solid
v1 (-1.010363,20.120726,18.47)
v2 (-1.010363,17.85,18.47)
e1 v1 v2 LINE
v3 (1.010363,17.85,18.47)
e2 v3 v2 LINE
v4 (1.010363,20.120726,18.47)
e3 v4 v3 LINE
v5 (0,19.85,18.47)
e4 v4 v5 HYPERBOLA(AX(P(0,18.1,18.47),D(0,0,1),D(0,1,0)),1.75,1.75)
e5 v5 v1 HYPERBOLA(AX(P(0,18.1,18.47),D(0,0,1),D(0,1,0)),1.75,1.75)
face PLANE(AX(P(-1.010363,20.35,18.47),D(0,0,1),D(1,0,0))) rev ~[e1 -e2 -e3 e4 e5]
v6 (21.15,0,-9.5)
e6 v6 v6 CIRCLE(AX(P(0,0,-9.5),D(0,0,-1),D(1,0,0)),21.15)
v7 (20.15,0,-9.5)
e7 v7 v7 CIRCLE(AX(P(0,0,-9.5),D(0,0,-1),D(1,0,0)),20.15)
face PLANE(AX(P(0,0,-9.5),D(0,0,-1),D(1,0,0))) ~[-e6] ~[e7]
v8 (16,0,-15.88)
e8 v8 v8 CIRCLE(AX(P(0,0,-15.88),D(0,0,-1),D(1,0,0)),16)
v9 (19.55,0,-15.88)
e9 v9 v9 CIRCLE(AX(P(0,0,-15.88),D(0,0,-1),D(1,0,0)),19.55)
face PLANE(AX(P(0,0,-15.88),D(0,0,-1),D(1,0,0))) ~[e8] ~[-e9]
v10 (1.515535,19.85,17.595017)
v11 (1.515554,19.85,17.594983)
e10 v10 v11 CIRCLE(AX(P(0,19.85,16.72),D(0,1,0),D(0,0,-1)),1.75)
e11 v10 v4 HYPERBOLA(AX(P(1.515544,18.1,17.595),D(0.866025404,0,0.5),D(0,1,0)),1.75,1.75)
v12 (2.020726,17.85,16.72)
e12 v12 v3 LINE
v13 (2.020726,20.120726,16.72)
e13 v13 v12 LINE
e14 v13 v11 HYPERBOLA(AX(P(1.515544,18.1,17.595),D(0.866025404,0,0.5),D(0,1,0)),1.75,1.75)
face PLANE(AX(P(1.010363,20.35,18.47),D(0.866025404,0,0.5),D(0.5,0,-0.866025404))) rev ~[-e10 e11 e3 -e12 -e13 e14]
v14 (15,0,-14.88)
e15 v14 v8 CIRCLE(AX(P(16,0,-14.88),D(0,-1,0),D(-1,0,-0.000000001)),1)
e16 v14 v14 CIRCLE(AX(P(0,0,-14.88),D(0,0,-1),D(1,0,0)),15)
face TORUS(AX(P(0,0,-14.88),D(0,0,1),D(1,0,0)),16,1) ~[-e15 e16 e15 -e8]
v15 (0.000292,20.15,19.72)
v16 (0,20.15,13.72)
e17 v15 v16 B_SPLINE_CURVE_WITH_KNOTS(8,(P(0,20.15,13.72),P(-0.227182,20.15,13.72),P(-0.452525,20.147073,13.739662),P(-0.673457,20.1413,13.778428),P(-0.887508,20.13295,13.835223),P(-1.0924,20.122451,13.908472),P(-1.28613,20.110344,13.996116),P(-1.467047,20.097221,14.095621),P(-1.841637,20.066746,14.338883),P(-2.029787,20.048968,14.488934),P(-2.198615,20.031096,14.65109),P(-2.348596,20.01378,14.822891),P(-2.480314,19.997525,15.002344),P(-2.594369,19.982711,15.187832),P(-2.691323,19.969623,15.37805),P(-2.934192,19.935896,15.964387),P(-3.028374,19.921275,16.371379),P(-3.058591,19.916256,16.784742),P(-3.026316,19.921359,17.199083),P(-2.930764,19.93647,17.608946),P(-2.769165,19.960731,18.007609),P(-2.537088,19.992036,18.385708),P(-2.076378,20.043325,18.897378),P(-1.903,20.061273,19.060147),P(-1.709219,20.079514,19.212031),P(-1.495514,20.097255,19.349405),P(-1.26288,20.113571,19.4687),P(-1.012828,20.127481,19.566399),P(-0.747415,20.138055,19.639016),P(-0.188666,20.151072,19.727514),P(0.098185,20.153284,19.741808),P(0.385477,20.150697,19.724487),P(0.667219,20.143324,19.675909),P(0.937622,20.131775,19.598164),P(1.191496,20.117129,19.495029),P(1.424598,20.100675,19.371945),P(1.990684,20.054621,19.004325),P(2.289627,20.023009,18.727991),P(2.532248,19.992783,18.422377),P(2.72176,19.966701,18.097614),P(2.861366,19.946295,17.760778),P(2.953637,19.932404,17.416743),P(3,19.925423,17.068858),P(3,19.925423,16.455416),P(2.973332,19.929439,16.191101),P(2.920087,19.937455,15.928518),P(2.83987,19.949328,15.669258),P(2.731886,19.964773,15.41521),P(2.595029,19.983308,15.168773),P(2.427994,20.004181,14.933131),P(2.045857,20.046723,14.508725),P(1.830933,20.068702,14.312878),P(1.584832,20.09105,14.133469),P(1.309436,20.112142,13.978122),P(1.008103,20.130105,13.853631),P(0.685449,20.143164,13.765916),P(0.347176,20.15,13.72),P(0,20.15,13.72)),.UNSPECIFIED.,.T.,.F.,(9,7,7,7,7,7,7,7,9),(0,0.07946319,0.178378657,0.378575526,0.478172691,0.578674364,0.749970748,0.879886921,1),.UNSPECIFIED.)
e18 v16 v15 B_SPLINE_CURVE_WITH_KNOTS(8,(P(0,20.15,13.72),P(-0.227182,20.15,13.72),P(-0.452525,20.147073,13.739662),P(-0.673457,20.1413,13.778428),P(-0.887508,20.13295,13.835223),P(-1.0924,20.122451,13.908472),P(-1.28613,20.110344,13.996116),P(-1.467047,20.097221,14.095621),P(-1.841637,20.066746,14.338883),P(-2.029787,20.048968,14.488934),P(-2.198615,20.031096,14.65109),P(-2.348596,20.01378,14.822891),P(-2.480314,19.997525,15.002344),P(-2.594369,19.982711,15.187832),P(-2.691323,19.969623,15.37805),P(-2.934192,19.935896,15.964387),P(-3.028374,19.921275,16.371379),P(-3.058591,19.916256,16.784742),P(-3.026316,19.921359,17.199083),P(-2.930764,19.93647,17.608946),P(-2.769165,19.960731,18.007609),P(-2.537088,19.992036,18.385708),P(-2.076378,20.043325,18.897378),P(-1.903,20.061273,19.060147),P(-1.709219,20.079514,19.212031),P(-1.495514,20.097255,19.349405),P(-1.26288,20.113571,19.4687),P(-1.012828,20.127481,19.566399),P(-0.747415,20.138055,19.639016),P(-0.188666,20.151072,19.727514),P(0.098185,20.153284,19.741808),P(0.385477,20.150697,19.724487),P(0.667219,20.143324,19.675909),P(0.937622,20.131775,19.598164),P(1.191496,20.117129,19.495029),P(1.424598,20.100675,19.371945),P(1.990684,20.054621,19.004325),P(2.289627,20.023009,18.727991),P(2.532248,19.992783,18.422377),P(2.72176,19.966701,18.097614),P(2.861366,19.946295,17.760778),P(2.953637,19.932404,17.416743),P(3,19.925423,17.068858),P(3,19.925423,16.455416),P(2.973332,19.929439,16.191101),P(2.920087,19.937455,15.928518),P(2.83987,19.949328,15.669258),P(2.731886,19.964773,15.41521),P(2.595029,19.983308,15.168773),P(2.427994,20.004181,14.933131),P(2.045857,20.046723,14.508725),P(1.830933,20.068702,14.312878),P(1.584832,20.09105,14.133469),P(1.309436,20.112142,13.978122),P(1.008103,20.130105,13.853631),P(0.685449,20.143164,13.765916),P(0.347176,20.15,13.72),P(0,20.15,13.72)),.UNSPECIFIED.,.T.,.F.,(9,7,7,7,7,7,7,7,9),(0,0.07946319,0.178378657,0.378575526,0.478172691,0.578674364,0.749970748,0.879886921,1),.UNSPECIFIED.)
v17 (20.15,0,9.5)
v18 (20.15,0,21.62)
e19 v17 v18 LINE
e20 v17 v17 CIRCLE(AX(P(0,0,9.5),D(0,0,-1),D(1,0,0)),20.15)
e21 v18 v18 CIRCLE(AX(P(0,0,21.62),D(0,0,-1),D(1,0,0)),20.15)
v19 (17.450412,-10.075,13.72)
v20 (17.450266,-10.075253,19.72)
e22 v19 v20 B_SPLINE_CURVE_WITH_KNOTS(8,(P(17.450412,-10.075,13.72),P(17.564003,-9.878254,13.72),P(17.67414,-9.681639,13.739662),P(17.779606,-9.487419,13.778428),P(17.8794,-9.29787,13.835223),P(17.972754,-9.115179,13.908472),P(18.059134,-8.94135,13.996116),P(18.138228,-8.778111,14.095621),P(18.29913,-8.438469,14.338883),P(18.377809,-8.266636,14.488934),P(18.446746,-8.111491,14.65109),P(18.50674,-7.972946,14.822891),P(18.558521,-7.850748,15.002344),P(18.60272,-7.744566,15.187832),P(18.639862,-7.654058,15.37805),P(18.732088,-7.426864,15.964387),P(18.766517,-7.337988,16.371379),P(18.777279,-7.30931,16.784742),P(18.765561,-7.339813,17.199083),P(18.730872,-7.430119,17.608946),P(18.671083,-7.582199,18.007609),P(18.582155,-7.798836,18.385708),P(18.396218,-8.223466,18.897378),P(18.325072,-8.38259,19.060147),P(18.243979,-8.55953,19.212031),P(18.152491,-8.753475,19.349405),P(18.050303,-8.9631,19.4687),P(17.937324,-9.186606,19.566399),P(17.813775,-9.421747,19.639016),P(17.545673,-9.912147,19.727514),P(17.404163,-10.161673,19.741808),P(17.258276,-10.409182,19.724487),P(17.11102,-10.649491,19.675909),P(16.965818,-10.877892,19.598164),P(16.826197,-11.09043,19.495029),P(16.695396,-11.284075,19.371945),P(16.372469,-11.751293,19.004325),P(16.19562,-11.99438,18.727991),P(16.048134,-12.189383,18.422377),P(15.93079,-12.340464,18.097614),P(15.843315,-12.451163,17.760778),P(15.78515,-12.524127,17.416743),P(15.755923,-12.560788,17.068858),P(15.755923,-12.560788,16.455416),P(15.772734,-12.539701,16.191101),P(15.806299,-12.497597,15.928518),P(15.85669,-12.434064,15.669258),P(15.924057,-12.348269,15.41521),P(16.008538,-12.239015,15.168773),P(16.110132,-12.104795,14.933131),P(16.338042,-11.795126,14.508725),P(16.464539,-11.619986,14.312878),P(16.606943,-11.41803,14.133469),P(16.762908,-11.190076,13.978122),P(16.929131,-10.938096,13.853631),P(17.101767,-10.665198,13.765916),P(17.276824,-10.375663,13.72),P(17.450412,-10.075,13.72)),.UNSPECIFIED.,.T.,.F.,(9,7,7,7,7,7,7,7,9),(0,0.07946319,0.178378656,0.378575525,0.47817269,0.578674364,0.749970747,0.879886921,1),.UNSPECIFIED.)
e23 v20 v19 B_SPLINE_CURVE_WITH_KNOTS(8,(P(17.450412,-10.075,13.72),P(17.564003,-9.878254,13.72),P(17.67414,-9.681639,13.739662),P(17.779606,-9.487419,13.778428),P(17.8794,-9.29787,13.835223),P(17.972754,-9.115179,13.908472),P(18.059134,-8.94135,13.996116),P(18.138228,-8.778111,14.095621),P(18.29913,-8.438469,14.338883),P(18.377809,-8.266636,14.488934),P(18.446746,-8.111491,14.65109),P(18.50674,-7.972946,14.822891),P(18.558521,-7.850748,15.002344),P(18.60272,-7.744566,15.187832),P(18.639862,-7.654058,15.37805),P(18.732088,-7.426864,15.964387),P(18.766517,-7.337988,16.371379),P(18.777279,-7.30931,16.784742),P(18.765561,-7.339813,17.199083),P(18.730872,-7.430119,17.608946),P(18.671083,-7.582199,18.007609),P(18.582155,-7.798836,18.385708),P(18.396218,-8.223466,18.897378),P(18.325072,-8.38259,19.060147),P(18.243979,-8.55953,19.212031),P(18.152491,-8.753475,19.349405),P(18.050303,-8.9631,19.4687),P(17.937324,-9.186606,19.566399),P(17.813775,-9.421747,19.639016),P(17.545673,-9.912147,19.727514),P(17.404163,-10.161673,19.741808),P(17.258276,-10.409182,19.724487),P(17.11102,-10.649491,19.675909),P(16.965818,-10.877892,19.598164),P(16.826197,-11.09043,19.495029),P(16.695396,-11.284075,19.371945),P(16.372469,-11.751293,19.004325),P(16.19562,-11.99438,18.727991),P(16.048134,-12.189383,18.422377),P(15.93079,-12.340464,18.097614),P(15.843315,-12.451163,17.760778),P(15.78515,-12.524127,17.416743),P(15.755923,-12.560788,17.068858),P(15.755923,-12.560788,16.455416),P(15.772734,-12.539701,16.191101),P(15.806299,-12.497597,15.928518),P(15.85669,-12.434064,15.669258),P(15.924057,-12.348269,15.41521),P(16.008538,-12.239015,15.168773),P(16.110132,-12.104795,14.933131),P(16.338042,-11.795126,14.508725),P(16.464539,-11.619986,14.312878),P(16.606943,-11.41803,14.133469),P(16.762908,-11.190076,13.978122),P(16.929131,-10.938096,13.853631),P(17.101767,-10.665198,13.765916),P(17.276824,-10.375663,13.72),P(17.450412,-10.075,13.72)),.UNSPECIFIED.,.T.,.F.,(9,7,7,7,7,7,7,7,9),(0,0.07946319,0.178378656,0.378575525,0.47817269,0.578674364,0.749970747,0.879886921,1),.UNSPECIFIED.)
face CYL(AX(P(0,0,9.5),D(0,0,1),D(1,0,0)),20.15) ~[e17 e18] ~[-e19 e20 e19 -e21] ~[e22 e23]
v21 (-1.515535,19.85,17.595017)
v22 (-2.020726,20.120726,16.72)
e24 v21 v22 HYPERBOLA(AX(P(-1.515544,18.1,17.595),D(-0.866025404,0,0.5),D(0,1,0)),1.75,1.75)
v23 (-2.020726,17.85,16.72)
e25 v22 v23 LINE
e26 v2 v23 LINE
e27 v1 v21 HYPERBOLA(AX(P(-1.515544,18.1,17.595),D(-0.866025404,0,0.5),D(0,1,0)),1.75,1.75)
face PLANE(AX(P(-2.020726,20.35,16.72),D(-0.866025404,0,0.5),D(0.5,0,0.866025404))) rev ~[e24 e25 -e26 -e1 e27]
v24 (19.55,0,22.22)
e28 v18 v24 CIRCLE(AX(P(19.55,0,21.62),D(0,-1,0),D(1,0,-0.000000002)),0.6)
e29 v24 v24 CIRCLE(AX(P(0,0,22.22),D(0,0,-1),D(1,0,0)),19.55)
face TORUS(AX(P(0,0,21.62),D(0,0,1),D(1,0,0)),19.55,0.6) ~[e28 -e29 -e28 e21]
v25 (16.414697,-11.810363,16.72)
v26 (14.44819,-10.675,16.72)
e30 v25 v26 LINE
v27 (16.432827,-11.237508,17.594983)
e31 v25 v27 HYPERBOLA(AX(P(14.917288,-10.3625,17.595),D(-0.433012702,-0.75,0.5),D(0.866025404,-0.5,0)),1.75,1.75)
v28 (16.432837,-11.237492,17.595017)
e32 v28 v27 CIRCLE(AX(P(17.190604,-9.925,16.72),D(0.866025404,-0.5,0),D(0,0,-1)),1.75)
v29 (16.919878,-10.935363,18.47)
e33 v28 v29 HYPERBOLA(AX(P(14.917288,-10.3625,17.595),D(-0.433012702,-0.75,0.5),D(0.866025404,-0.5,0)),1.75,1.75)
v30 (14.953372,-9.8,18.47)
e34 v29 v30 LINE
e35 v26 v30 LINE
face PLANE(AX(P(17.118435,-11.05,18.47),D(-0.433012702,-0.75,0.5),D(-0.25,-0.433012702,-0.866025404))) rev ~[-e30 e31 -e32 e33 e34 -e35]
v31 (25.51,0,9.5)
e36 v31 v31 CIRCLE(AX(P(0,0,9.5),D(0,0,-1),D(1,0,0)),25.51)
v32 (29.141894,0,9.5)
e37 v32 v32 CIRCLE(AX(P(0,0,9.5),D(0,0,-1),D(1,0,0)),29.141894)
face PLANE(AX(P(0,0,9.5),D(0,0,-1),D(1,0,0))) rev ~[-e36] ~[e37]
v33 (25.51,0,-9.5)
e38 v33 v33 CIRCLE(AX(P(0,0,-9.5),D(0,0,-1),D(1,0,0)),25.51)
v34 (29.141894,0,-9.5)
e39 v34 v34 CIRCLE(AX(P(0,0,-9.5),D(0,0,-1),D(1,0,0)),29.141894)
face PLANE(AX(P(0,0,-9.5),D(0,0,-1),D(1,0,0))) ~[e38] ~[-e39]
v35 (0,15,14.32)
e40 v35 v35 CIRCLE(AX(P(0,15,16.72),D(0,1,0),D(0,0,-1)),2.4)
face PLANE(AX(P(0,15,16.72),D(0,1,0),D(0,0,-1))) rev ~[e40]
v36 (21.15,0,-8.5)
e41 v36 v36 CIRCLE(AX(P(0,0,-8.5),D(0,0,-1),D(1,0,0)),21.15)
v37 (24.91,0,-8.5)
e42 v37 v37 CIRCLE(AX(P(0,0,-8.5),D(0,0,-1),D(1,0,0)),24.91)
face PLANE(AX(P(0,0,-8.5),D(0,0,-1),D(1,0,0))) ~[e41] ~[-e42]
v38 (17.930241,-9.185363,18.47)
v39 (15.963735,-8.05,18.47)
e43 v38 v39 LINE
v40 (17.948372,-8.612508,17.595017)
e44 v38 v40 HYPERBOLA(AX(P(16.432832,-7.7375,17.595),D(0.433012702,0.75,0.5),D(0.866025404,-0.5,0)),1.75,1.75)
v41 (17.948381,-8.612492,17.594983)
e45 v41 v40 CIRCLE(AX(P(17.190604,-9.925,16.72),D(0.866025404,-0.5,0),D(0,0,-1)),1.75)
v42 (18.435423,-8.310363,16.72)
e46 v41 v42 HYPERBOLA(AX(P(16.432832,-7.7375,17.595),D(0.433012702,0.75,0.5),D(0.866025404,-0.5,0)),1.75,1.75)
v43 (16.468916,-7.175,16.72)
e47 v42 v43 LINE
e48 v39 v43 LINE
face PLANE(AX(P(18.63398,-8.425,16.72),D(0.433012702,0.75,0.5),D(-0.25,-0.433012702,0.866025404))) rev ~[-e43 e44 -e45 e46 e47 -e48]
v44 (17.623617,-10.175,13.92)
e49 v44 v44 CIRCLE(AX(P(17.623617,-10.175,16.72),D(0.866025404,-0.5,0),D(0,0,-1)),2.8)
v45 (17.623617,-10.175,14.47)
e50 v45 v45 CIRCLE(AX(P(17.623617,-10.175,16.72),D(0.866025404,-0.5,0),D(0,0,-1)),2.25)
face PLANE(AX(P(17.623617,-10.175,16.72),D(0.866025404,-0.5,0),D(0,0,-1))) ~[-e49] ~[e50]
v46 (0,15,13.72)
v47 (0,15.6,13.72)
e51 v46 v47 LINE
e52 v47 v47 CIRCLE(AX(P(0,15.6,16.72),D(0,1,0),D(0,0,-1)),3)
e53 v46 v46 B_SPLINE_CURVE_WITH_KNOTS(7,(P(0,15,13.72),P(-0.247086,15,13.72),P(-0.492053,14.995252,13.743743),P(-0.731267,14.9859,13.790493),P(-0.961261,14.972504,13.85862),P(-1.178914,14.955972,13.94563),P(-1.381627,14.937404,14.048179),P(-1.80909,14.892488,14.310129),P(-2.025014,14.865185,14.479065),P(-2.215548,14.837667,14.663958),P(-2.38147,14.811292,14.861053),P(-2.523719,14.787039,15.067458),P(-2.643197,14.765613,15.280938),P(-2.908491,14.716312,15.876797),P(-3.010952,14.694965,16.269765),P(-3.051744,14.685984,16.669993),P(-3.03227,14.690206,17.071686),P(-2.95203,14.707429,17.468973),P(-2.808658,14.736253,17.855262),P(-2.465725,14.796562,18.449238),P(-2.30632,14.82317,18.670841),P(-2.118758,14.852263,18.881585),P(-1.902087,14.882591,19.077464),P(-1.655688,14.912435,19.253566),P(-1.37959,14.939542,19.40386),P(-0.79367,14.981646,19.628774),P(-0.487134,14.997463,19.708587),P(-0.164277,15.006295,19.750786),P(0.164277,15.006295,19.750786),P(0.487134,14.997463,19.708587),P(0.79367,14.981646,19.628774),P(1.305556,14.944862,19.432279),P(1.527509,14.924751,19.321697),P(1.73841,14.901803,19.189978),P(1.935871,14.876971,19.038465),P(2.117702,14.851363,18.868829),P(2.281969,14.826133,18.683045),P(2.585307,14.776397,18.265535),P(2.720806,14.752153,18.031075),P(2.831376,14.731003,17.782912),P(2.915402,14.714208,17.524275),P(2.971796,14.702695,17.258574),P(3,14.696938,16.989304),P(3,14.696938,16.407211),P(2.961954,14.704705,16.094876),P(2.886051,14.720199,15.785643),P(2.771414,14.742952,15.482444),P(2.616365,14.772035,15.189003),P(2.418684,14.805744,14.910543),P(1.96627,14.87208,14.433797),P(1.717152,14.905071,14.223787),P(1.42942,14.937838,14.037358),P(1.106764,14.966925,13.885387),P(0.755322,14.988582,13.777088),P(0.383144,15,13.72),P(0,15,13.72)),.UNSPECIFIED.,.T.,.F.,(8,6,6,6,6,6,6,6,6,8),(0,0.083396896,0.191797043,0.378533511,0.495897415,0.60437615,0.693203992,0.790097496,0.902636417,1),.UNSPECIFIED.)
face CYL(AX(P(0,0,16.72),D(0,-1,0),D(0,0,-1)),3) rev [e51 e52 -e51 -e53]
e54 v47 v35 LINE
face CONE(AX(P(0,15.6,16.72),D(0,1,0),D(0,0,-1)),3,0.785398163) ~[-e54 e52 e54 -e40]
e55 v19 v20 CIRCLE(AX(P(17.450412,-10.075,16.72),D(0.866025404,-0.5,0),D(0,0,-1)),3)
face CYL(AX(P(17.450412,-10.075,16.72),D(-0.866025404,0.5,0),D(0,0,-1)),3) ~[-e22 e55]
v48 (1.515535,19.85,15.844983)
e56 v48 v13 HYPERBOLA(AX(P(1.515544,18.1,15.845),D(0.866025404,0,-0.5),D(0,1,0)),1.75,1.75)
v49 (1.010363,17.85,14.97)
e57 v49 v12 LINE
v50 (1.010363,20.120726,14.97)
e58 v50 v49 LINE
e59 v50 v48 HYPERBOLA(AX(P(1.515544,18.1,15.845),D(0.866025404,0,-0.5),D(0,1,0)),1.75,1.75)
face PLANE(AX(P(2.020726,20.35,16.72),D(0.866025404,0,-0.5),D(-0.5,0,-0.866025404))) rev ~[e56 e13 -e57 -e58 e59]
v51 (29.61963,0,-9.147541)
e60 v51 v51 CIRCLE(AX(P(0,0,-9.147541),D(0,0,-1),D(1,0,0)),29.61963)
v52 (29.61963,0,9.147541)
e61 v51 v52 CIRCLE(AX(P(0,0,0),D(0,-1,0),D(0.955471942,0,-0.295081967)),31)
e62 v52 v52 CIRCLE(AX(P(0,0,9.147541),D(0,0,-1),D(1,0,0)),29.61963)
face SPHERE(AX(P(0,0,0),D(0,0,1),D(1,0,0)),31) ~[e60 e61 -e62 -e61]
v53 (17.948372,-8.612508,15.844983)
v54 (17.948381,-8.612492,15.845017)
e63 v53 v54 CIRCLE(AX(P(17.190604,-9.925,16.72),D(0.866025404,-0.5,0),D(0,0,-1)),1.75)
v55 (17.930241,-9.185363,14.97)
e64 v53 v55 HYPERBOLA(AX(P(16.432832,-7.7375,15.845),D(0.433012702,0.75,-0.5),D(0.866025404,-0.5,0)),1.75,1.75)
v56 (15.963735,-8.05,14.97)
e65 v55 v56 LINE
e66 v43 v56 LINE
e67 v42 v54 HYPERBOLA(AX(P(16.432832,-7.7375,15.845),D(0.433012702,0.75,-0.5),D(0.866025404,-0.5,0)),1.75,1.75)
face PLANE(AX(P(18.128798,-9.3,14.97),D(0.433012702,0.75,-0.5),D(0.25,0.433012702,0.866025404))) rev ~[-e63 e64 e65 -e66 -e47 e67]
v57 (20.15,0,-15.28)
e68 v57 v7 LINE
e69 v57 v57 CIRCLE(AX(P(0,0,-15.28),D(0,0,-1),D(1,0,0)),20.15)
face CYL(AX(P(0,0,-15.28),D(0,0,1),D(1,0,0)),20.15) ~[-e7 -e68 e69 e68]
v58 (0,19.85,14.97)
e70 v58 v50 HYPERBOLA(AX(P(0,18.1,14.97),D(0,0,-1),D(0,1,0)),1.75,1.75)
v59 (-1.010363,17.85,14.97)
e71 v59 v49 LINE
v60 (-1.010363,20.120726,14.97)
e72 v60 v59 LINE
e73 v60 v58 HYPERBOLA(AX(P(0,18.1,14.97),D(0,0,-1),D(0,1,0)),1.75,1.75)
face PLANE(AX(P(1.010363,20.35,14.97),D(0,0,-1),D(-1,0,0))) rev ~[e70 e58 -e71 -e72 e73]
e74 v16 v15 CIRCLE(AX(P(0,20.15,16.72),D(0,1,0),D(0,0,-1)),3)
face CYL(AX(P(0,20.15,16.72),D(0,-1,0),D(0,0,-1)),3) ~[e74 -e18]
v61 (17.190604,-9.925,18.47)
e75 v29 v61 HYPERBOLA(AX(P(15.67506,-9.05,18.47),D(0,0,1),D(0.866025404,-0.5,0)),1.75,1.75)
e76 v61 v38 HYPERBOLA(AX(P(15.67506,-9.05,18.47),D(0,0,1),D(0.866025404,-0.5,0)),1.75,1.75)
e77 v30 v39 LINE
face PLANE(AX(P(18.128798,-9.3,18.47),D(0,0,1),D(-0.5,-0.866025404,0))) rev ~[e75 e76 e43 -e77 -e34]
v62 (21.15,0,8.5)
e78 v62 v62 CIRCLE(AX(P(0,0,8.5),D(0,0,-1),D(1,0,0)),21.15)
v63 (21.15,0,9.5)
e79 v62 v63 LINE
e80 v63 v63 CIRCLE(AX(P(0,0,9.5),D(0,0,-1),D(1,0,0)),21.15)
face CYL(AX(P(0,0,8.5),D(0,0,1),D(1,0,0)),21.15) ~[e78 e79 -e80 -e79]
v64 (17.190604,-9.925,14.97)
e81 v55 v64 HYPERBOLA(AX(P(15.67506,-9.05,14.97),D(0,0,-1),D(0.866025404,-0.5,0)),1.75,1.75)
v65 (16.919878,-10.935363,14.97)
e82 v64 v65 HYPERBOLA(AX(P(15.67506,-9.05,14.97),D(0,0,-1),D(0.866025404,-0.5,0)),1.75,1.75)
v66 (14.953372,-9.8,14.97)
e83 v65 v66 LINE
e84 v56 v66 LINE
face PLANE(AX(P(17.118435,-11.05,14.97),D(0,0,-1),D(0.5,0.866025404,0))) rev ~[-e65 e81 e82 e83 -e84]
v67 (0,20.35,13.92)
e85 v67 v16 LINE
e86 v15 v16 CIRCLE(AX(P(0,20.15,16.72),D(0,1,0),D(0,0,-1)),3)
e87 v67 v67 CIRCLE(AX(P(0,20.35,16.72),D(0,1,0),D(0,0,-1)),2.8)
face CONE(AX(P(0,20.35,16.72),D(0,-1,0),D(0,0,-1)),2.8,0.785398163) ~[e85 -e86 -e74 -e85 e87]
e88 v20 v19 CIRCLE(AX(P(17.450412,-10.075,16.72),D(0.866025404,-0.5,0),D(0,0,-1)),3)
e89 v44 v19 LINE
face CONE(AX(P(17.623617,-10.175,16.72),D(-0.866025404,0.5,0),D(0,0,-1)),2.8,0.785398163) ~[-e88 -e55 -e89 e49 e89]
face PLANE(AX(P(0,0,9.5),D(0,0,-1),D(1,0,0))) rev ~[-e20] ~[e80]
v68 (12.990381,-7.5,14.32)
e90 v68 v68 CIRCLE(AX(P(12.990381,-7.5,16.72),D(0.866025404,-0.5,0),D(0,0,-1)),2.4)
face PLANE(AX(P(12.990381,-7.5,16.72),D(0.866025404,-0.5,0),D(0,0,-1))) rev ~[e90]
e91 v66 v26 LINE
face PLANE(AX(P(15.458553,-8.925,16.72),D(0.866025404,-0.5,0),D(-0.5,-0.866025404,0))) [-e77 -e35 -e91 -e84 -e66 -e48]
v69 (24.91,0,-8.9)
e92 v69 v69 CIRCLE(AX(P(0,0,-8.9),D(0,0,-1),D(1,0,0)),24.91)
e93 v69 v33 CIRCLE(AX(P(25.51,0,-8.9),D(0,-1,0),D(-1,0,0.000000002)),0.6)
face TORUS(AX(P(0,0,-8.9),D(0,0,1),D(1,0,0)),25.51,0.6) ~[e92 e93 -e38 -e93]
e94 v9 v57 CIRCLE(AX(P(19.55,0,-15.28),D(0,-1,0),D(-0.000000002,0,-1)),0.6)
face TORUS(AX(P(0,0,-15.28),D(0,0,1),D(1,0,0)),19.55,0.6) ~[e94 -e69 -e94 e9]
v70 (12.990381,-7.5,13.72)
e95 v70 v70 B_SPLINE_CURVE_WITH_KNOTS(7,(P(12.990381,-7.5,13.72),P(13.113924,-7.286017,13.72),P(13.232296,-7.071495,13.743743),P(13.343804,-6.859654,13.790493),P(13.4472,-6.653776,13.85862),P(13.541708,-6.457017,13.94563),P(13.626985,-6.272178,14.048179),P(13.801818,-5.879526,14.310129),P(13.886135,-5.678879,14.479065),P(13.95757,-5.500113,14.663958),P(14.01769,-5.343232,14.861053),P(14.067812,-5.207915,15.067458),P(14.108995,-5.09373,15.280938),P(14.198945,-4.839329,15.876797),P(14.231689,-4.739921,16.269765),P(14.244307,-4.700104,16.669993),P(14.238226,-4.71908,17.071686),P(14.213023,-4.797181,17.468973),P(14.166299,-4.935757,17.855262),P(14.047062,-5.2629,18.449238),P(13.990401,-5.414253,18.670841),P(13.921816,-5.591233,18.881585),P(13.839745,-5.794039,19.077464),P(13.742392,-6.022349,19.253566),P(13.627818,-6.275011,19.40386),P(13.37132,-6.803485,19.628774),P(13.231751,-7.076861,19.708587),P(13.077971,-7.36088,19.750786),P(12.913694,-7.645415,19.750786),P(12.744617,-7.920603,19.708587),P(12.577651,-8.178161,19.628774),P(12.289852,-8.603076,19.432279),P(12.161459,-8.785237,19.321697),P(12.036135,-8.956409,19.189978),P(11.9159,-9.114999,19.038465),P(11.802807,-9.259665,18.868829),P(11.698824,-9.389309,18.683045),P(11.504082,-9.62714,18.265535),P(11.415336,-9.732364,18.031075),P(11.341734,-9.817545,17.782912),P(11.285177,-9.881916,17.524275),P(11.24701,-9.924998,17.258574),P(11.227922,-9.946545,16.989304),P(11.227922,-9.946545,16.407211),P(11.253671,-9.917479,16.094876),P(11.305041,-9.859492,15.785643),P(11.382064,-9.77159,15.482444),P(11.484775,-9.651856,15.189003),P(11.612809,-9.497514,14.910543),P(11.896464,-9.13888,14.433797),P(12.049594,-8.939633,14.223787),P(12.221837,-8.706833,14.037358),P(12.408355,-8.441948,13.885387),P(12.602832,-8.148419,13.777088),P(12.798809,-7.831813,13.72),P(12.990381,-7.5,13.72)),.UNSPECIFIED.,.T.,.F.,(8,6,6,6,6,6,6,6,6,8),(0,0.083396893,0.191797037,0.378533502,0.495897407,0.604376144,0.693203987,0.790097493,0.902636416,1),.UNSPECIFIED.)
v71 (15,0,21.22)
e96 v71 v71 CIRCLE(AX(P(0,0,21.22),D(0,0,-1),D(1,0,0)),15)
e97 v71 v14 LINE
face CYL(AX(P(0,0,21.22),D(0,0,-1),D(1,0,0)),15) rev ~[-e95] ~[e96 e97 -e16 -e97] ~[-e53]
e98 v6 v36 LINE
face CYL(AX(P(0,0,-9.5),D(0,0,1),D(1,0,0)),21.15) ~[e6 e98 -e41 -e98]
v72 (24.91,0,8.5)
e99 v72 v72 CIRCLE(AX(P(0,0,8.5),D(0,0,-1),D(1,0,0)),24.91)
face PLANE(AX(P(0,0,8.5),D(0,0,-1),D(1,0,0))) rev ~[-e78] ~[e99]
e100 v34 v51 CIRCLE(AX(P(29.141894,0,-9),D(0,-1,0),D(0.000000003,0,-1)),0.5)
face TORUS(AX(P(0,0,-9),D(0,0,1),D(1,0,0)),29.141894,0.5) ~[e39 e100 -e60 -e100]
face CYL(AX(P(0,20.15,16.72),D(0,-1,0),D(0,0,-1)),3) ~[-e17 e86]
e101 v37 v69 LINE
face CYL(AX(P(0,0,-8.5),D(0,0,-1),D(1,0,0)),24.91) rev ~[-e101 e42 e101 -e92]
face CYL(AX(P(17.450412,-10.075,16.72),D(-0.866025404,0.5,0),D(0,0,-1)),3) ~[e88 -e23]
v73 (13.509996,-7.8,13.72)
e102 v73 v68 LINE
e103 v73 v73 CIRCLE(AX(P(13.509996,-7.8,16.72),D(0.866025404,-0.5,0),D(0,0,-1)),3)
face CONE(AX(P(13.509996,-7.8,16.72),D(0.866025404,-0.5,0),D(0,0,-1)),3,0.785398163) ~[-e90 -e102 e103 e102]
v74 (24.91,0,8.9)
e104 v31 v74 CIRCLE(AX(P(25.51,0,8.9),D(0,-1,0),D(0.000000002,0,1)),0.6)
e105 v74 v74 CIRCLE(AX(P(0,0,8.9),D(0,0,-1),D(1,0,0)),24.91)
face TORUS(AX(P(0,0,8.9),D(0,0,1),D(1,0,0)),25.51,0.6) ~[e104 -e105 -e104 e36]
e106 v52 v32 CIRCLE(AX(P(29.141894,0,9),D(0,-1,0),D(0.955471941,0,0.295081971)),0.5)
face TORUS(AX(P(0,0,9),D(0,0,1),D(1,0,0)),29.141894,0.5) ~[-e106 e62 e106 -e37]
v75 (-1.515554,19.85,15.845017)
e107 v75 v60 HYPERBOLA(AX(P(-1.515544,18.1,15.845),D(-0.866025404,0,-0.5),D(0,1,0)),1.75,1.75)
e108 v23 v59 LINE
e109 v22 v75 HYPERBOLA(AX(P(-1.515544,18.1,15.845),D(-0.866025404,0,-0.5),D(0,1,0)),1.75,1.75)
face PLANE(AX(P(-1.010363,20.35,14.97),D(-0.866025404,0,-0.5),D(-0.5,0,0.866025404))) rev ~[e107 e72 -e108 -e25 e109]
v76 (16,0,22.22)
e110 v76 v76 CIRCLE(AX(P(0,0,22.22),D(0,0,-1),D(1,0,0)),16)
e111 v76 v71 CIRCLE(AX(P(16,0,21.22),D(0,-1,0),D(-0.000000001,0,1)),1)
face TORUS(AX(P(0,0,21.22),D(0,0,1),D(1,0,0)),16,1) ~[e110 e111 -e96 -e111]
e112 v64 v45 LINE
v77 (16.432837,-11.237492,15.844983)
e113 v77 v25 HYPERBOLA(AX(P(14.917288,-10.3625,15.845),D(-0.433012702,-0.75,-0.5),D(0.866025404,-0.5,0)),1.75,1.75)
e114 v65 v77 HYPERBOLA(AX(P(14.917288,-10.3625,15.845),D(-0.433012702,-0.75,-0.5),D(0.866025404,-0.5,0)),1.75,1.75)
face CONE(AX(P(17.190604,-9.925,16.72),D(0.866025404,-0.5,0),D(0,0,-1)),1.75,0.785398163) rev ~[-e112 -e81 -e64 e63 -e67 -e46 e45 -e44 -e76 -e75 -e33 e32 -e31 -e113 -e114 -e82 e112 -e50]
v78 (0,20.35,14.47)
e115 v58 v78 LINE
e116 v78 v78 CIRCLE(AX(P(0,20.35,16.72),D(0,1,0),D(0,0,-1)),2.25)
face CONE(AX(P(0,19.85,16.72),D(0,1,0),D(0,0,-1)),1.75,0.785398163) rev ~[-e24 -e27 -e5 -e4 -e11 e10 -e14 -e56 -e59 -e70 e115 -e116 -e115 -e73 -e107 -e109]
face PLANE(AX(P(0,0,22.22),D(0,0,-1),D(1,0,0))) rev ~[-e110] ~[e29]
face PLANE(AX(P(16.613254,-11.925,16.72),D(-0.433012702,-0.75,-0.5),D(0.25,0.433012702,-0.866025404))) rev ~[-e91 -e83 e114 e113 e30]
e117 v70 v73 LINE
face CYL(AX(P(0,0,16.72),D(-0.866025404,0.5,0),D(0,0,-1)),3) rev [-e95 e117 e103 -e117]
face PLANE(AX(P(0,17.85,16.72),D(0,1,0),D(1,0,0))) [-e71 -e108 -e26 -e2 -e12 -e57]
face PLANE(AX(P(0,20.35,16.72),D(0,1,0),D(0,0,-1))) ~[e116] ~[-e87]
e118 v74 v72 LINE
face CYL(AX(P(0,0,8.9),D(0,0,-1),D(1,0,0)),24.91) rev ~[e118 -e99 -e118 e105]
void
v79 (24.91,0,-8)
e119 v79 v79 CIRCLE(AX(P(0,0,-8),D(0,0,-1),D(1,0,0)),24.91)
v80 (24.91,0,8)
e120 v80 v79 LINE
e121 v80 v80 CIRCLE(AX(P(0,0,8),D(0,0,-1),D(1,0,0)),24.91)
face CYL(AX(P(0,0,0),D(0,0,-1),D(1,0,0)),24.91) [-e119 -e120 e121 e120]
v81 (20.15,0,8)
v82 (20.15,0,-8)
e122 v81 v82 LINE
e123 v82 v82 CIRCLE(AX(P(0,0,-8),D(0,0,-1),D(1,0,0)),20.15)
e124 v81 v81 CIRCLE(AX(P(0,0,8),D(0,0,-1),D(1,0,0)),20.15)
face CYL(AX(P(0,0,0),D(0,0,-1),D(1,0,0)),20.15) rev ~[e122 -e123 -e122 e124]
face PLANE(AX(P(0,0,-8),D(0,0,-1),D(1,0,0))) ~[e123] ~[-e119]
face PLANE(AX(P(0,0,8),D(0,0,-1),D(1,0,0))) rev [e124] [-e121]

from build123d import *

# Parameters (mm, degrees)
ESBO_O1_W             = 16
ESBO_O1_H             = 4.76
ESBO_O2_R             = 3
CORTE_EXTRUS_O1_DEPTH = 50.150060066
CORTE_EXTRUS_O2_DEPTH = 2.5
PADR_OCIRCULAR1_COUNT = 2
PADR_OCIRCULAR1_ANGLE = 120


with BuildPart() as part:
    # Esboço1 → Revolução1 (revolve)
    with BuildSketch(Plane(origin=(0, 0, 0), x_dir=(0, 0, -1), z_dir=(1, 0, 0)), mode=Mode.PRIVATE) as revolu_o1_sk:
        with BuildLine():
            Line((-9.5, 29.141894242), (-9.5, 25.51))
            ThreePointArc((-9.5, 25.51), (-9.324264069, 25.085735931), (-8.9, 24.91))
            Line((-8.9, 24.91), (-8.5, 24.91))
            Line((-8.5, 24.91), (-8.5, 21.15))
            Line((-8.5, 21.15), (-9.5, 21.15))
            Line((-9.5, 21.15), (-9.5, 20.15))
            Line((-9.5, 20.15), (-21.62, 20.15))
            ThreePointArc((-21.62, 20.15), (-22.044264069, 19.974264069), (-22.22, 19.55))
            Line((-22.22, 19.55), (-22.22, 16))
            ThreePointArc((-22.22, 16), (-21.927106781, 15.292893219), (-21.22, 15))
            Line((-21.22, 15), (14.88, 15))
            ThreePointArc((14.88, 15), (15.587106781, 15.292893219), (15.88, 16))
            Line((15.88, 16), (15.88, 19.55))
            ThreePointArc((15.88, 19.55), (15.704264069, 19.974264069), (15.28, 20.15))
            Line((15.28, 20.15), (9.5, 20.15))
            Line((9.5, 20.15), (9.5, 21.15))
            Line((9.5, 21.15), (8.5, 21.15))
            Line((8.5, 21.15), (8.5, 24.91))
            Line((8.5, 24.91), (8.9, 24.91))
            ThreePointArc((8.9, 24.91), (9.324264069, 25.085735931), (9.5, 25.51))
            Line((9.5, 25.51), (9.5, 29.141894242))
            ThreePointArc((9.5, 29.141894242), (9.402349656, 29.438735536), (9.147540984, 29.619630213))
            ThreePointArc((9.147540984, 29.619630213), (0, 31), (-9.147540984, 29.619630213))
            ThreePointArc((-9.147540984, 29.619630213), (-9.402349656, 29.438735536), (-9.5, 29.141894242))
        make_face()
        with Locations((0, 22.53)):
            Rectangle(ESBO_O1_W, ESBO_O1_H, mode=Mode.SUBTRACT)
    revolve(revolu_o1_sk.sketch.rotate(Axis((0, 0, 996.83), (0, 0, -1)), 90), axis=Axis((0, 0, 996.83), (0, 0, -1)))

    # Esboço2 → Corte-extrusão1 (cut, through all)
    with BuildSketch(Plane(origin=(0, 0, 0), x_dir=(1, 0, 0), z_dir=(0, 1, 0))):
        with Locations(Location((0, -16.72, 0), (0, 0, 90))):
            Circle(ESBO_O2_R)
    corte_extrus_o1 = extrude(amount=CORTE_EXTRUS_O1_DEPTH, mode=Mode.SUBTRACT)

    # Esboço3 → Revolução2 (revolve)
    with BuildSketch(Plane(origin=(0, 0, 0), x_dir=(0, 0, -1), z_dir=(1, 0, 0)), mode=Mode.PRIVATE) as revolu_o2_sk:
        Polygon((-19.52, 20.35), (-19.72, 20.15), (-19.72, 15.6), (-19.12, 15), (-16.72, 15), (-16.72, 17.85), (-18.47, 17.85), (-18.47, 19.85), (-18.97, 20.35), align=None)
    revolu_o2 = revolve(revolu_o2_sk.sketch.rotate(Axis((0, -1000.588101223, 16.72), (0, 1, 0)), 180), axis=Axis((0, -1000.588101223, 16.72), (0, 1, 0)))

    # Esboço4 → Corte-extrusão2 (cut)
    with BuildSketch(Plane(origin=(0, 20.35, 0), x_dir=(1, 0, 0), z_dir=(0, 1, 0))):
        Polygon((1.010362971, -18.47), (2.020725942, -16.72), (1.010362971, -14.97), (-1.010362971, -14.97), (-2.020725942, -16.72), (-1.010362971, -18.47), align=None)
    corte_extrus_o2 = extrude(amount=-CORTE_EXTRUS_O2_DEPTH, mode=Mode.SUBTRACT)

    # PadrãoCircular1: Corte-extrusão1, Revolução2, Corte-extrusão2 ×2 about axis
    padr_ocircular1_axis = Axis((0, 0, 0), (0, 0, -1))
    add([corte_extrus_o1.rotate(padr_ocircular1_axis, i * PADR_OCIRCULAR1_ANGLE / (PADR_OCIRCULAR1_COUNT - 1)) for i in range(1, PADR_OCIRCULAR1_COUNT)], mode=Mode.SUBTRACT)
    add([revolu_o2.rotate(padr_ocircular1_axis, i * PADR_OCIRCULAR1_ANGLE / (PADR_OCIRCULAR1_COUNT - 1)) for i in range(1, PADR_OCIRCULAR1_COUNT)])
    add([corte_extrus_o2.rotate(padr_ocircular1_axis, i * PADR_OCIRCULAR1_ANGLE / (PADR_OCIRCULAR1_COUNT - 1)) for i in range(1, PADR_OCIRCULAR1_COUNT)], mode=Mode.SUBTRACT)


solid = part.part
